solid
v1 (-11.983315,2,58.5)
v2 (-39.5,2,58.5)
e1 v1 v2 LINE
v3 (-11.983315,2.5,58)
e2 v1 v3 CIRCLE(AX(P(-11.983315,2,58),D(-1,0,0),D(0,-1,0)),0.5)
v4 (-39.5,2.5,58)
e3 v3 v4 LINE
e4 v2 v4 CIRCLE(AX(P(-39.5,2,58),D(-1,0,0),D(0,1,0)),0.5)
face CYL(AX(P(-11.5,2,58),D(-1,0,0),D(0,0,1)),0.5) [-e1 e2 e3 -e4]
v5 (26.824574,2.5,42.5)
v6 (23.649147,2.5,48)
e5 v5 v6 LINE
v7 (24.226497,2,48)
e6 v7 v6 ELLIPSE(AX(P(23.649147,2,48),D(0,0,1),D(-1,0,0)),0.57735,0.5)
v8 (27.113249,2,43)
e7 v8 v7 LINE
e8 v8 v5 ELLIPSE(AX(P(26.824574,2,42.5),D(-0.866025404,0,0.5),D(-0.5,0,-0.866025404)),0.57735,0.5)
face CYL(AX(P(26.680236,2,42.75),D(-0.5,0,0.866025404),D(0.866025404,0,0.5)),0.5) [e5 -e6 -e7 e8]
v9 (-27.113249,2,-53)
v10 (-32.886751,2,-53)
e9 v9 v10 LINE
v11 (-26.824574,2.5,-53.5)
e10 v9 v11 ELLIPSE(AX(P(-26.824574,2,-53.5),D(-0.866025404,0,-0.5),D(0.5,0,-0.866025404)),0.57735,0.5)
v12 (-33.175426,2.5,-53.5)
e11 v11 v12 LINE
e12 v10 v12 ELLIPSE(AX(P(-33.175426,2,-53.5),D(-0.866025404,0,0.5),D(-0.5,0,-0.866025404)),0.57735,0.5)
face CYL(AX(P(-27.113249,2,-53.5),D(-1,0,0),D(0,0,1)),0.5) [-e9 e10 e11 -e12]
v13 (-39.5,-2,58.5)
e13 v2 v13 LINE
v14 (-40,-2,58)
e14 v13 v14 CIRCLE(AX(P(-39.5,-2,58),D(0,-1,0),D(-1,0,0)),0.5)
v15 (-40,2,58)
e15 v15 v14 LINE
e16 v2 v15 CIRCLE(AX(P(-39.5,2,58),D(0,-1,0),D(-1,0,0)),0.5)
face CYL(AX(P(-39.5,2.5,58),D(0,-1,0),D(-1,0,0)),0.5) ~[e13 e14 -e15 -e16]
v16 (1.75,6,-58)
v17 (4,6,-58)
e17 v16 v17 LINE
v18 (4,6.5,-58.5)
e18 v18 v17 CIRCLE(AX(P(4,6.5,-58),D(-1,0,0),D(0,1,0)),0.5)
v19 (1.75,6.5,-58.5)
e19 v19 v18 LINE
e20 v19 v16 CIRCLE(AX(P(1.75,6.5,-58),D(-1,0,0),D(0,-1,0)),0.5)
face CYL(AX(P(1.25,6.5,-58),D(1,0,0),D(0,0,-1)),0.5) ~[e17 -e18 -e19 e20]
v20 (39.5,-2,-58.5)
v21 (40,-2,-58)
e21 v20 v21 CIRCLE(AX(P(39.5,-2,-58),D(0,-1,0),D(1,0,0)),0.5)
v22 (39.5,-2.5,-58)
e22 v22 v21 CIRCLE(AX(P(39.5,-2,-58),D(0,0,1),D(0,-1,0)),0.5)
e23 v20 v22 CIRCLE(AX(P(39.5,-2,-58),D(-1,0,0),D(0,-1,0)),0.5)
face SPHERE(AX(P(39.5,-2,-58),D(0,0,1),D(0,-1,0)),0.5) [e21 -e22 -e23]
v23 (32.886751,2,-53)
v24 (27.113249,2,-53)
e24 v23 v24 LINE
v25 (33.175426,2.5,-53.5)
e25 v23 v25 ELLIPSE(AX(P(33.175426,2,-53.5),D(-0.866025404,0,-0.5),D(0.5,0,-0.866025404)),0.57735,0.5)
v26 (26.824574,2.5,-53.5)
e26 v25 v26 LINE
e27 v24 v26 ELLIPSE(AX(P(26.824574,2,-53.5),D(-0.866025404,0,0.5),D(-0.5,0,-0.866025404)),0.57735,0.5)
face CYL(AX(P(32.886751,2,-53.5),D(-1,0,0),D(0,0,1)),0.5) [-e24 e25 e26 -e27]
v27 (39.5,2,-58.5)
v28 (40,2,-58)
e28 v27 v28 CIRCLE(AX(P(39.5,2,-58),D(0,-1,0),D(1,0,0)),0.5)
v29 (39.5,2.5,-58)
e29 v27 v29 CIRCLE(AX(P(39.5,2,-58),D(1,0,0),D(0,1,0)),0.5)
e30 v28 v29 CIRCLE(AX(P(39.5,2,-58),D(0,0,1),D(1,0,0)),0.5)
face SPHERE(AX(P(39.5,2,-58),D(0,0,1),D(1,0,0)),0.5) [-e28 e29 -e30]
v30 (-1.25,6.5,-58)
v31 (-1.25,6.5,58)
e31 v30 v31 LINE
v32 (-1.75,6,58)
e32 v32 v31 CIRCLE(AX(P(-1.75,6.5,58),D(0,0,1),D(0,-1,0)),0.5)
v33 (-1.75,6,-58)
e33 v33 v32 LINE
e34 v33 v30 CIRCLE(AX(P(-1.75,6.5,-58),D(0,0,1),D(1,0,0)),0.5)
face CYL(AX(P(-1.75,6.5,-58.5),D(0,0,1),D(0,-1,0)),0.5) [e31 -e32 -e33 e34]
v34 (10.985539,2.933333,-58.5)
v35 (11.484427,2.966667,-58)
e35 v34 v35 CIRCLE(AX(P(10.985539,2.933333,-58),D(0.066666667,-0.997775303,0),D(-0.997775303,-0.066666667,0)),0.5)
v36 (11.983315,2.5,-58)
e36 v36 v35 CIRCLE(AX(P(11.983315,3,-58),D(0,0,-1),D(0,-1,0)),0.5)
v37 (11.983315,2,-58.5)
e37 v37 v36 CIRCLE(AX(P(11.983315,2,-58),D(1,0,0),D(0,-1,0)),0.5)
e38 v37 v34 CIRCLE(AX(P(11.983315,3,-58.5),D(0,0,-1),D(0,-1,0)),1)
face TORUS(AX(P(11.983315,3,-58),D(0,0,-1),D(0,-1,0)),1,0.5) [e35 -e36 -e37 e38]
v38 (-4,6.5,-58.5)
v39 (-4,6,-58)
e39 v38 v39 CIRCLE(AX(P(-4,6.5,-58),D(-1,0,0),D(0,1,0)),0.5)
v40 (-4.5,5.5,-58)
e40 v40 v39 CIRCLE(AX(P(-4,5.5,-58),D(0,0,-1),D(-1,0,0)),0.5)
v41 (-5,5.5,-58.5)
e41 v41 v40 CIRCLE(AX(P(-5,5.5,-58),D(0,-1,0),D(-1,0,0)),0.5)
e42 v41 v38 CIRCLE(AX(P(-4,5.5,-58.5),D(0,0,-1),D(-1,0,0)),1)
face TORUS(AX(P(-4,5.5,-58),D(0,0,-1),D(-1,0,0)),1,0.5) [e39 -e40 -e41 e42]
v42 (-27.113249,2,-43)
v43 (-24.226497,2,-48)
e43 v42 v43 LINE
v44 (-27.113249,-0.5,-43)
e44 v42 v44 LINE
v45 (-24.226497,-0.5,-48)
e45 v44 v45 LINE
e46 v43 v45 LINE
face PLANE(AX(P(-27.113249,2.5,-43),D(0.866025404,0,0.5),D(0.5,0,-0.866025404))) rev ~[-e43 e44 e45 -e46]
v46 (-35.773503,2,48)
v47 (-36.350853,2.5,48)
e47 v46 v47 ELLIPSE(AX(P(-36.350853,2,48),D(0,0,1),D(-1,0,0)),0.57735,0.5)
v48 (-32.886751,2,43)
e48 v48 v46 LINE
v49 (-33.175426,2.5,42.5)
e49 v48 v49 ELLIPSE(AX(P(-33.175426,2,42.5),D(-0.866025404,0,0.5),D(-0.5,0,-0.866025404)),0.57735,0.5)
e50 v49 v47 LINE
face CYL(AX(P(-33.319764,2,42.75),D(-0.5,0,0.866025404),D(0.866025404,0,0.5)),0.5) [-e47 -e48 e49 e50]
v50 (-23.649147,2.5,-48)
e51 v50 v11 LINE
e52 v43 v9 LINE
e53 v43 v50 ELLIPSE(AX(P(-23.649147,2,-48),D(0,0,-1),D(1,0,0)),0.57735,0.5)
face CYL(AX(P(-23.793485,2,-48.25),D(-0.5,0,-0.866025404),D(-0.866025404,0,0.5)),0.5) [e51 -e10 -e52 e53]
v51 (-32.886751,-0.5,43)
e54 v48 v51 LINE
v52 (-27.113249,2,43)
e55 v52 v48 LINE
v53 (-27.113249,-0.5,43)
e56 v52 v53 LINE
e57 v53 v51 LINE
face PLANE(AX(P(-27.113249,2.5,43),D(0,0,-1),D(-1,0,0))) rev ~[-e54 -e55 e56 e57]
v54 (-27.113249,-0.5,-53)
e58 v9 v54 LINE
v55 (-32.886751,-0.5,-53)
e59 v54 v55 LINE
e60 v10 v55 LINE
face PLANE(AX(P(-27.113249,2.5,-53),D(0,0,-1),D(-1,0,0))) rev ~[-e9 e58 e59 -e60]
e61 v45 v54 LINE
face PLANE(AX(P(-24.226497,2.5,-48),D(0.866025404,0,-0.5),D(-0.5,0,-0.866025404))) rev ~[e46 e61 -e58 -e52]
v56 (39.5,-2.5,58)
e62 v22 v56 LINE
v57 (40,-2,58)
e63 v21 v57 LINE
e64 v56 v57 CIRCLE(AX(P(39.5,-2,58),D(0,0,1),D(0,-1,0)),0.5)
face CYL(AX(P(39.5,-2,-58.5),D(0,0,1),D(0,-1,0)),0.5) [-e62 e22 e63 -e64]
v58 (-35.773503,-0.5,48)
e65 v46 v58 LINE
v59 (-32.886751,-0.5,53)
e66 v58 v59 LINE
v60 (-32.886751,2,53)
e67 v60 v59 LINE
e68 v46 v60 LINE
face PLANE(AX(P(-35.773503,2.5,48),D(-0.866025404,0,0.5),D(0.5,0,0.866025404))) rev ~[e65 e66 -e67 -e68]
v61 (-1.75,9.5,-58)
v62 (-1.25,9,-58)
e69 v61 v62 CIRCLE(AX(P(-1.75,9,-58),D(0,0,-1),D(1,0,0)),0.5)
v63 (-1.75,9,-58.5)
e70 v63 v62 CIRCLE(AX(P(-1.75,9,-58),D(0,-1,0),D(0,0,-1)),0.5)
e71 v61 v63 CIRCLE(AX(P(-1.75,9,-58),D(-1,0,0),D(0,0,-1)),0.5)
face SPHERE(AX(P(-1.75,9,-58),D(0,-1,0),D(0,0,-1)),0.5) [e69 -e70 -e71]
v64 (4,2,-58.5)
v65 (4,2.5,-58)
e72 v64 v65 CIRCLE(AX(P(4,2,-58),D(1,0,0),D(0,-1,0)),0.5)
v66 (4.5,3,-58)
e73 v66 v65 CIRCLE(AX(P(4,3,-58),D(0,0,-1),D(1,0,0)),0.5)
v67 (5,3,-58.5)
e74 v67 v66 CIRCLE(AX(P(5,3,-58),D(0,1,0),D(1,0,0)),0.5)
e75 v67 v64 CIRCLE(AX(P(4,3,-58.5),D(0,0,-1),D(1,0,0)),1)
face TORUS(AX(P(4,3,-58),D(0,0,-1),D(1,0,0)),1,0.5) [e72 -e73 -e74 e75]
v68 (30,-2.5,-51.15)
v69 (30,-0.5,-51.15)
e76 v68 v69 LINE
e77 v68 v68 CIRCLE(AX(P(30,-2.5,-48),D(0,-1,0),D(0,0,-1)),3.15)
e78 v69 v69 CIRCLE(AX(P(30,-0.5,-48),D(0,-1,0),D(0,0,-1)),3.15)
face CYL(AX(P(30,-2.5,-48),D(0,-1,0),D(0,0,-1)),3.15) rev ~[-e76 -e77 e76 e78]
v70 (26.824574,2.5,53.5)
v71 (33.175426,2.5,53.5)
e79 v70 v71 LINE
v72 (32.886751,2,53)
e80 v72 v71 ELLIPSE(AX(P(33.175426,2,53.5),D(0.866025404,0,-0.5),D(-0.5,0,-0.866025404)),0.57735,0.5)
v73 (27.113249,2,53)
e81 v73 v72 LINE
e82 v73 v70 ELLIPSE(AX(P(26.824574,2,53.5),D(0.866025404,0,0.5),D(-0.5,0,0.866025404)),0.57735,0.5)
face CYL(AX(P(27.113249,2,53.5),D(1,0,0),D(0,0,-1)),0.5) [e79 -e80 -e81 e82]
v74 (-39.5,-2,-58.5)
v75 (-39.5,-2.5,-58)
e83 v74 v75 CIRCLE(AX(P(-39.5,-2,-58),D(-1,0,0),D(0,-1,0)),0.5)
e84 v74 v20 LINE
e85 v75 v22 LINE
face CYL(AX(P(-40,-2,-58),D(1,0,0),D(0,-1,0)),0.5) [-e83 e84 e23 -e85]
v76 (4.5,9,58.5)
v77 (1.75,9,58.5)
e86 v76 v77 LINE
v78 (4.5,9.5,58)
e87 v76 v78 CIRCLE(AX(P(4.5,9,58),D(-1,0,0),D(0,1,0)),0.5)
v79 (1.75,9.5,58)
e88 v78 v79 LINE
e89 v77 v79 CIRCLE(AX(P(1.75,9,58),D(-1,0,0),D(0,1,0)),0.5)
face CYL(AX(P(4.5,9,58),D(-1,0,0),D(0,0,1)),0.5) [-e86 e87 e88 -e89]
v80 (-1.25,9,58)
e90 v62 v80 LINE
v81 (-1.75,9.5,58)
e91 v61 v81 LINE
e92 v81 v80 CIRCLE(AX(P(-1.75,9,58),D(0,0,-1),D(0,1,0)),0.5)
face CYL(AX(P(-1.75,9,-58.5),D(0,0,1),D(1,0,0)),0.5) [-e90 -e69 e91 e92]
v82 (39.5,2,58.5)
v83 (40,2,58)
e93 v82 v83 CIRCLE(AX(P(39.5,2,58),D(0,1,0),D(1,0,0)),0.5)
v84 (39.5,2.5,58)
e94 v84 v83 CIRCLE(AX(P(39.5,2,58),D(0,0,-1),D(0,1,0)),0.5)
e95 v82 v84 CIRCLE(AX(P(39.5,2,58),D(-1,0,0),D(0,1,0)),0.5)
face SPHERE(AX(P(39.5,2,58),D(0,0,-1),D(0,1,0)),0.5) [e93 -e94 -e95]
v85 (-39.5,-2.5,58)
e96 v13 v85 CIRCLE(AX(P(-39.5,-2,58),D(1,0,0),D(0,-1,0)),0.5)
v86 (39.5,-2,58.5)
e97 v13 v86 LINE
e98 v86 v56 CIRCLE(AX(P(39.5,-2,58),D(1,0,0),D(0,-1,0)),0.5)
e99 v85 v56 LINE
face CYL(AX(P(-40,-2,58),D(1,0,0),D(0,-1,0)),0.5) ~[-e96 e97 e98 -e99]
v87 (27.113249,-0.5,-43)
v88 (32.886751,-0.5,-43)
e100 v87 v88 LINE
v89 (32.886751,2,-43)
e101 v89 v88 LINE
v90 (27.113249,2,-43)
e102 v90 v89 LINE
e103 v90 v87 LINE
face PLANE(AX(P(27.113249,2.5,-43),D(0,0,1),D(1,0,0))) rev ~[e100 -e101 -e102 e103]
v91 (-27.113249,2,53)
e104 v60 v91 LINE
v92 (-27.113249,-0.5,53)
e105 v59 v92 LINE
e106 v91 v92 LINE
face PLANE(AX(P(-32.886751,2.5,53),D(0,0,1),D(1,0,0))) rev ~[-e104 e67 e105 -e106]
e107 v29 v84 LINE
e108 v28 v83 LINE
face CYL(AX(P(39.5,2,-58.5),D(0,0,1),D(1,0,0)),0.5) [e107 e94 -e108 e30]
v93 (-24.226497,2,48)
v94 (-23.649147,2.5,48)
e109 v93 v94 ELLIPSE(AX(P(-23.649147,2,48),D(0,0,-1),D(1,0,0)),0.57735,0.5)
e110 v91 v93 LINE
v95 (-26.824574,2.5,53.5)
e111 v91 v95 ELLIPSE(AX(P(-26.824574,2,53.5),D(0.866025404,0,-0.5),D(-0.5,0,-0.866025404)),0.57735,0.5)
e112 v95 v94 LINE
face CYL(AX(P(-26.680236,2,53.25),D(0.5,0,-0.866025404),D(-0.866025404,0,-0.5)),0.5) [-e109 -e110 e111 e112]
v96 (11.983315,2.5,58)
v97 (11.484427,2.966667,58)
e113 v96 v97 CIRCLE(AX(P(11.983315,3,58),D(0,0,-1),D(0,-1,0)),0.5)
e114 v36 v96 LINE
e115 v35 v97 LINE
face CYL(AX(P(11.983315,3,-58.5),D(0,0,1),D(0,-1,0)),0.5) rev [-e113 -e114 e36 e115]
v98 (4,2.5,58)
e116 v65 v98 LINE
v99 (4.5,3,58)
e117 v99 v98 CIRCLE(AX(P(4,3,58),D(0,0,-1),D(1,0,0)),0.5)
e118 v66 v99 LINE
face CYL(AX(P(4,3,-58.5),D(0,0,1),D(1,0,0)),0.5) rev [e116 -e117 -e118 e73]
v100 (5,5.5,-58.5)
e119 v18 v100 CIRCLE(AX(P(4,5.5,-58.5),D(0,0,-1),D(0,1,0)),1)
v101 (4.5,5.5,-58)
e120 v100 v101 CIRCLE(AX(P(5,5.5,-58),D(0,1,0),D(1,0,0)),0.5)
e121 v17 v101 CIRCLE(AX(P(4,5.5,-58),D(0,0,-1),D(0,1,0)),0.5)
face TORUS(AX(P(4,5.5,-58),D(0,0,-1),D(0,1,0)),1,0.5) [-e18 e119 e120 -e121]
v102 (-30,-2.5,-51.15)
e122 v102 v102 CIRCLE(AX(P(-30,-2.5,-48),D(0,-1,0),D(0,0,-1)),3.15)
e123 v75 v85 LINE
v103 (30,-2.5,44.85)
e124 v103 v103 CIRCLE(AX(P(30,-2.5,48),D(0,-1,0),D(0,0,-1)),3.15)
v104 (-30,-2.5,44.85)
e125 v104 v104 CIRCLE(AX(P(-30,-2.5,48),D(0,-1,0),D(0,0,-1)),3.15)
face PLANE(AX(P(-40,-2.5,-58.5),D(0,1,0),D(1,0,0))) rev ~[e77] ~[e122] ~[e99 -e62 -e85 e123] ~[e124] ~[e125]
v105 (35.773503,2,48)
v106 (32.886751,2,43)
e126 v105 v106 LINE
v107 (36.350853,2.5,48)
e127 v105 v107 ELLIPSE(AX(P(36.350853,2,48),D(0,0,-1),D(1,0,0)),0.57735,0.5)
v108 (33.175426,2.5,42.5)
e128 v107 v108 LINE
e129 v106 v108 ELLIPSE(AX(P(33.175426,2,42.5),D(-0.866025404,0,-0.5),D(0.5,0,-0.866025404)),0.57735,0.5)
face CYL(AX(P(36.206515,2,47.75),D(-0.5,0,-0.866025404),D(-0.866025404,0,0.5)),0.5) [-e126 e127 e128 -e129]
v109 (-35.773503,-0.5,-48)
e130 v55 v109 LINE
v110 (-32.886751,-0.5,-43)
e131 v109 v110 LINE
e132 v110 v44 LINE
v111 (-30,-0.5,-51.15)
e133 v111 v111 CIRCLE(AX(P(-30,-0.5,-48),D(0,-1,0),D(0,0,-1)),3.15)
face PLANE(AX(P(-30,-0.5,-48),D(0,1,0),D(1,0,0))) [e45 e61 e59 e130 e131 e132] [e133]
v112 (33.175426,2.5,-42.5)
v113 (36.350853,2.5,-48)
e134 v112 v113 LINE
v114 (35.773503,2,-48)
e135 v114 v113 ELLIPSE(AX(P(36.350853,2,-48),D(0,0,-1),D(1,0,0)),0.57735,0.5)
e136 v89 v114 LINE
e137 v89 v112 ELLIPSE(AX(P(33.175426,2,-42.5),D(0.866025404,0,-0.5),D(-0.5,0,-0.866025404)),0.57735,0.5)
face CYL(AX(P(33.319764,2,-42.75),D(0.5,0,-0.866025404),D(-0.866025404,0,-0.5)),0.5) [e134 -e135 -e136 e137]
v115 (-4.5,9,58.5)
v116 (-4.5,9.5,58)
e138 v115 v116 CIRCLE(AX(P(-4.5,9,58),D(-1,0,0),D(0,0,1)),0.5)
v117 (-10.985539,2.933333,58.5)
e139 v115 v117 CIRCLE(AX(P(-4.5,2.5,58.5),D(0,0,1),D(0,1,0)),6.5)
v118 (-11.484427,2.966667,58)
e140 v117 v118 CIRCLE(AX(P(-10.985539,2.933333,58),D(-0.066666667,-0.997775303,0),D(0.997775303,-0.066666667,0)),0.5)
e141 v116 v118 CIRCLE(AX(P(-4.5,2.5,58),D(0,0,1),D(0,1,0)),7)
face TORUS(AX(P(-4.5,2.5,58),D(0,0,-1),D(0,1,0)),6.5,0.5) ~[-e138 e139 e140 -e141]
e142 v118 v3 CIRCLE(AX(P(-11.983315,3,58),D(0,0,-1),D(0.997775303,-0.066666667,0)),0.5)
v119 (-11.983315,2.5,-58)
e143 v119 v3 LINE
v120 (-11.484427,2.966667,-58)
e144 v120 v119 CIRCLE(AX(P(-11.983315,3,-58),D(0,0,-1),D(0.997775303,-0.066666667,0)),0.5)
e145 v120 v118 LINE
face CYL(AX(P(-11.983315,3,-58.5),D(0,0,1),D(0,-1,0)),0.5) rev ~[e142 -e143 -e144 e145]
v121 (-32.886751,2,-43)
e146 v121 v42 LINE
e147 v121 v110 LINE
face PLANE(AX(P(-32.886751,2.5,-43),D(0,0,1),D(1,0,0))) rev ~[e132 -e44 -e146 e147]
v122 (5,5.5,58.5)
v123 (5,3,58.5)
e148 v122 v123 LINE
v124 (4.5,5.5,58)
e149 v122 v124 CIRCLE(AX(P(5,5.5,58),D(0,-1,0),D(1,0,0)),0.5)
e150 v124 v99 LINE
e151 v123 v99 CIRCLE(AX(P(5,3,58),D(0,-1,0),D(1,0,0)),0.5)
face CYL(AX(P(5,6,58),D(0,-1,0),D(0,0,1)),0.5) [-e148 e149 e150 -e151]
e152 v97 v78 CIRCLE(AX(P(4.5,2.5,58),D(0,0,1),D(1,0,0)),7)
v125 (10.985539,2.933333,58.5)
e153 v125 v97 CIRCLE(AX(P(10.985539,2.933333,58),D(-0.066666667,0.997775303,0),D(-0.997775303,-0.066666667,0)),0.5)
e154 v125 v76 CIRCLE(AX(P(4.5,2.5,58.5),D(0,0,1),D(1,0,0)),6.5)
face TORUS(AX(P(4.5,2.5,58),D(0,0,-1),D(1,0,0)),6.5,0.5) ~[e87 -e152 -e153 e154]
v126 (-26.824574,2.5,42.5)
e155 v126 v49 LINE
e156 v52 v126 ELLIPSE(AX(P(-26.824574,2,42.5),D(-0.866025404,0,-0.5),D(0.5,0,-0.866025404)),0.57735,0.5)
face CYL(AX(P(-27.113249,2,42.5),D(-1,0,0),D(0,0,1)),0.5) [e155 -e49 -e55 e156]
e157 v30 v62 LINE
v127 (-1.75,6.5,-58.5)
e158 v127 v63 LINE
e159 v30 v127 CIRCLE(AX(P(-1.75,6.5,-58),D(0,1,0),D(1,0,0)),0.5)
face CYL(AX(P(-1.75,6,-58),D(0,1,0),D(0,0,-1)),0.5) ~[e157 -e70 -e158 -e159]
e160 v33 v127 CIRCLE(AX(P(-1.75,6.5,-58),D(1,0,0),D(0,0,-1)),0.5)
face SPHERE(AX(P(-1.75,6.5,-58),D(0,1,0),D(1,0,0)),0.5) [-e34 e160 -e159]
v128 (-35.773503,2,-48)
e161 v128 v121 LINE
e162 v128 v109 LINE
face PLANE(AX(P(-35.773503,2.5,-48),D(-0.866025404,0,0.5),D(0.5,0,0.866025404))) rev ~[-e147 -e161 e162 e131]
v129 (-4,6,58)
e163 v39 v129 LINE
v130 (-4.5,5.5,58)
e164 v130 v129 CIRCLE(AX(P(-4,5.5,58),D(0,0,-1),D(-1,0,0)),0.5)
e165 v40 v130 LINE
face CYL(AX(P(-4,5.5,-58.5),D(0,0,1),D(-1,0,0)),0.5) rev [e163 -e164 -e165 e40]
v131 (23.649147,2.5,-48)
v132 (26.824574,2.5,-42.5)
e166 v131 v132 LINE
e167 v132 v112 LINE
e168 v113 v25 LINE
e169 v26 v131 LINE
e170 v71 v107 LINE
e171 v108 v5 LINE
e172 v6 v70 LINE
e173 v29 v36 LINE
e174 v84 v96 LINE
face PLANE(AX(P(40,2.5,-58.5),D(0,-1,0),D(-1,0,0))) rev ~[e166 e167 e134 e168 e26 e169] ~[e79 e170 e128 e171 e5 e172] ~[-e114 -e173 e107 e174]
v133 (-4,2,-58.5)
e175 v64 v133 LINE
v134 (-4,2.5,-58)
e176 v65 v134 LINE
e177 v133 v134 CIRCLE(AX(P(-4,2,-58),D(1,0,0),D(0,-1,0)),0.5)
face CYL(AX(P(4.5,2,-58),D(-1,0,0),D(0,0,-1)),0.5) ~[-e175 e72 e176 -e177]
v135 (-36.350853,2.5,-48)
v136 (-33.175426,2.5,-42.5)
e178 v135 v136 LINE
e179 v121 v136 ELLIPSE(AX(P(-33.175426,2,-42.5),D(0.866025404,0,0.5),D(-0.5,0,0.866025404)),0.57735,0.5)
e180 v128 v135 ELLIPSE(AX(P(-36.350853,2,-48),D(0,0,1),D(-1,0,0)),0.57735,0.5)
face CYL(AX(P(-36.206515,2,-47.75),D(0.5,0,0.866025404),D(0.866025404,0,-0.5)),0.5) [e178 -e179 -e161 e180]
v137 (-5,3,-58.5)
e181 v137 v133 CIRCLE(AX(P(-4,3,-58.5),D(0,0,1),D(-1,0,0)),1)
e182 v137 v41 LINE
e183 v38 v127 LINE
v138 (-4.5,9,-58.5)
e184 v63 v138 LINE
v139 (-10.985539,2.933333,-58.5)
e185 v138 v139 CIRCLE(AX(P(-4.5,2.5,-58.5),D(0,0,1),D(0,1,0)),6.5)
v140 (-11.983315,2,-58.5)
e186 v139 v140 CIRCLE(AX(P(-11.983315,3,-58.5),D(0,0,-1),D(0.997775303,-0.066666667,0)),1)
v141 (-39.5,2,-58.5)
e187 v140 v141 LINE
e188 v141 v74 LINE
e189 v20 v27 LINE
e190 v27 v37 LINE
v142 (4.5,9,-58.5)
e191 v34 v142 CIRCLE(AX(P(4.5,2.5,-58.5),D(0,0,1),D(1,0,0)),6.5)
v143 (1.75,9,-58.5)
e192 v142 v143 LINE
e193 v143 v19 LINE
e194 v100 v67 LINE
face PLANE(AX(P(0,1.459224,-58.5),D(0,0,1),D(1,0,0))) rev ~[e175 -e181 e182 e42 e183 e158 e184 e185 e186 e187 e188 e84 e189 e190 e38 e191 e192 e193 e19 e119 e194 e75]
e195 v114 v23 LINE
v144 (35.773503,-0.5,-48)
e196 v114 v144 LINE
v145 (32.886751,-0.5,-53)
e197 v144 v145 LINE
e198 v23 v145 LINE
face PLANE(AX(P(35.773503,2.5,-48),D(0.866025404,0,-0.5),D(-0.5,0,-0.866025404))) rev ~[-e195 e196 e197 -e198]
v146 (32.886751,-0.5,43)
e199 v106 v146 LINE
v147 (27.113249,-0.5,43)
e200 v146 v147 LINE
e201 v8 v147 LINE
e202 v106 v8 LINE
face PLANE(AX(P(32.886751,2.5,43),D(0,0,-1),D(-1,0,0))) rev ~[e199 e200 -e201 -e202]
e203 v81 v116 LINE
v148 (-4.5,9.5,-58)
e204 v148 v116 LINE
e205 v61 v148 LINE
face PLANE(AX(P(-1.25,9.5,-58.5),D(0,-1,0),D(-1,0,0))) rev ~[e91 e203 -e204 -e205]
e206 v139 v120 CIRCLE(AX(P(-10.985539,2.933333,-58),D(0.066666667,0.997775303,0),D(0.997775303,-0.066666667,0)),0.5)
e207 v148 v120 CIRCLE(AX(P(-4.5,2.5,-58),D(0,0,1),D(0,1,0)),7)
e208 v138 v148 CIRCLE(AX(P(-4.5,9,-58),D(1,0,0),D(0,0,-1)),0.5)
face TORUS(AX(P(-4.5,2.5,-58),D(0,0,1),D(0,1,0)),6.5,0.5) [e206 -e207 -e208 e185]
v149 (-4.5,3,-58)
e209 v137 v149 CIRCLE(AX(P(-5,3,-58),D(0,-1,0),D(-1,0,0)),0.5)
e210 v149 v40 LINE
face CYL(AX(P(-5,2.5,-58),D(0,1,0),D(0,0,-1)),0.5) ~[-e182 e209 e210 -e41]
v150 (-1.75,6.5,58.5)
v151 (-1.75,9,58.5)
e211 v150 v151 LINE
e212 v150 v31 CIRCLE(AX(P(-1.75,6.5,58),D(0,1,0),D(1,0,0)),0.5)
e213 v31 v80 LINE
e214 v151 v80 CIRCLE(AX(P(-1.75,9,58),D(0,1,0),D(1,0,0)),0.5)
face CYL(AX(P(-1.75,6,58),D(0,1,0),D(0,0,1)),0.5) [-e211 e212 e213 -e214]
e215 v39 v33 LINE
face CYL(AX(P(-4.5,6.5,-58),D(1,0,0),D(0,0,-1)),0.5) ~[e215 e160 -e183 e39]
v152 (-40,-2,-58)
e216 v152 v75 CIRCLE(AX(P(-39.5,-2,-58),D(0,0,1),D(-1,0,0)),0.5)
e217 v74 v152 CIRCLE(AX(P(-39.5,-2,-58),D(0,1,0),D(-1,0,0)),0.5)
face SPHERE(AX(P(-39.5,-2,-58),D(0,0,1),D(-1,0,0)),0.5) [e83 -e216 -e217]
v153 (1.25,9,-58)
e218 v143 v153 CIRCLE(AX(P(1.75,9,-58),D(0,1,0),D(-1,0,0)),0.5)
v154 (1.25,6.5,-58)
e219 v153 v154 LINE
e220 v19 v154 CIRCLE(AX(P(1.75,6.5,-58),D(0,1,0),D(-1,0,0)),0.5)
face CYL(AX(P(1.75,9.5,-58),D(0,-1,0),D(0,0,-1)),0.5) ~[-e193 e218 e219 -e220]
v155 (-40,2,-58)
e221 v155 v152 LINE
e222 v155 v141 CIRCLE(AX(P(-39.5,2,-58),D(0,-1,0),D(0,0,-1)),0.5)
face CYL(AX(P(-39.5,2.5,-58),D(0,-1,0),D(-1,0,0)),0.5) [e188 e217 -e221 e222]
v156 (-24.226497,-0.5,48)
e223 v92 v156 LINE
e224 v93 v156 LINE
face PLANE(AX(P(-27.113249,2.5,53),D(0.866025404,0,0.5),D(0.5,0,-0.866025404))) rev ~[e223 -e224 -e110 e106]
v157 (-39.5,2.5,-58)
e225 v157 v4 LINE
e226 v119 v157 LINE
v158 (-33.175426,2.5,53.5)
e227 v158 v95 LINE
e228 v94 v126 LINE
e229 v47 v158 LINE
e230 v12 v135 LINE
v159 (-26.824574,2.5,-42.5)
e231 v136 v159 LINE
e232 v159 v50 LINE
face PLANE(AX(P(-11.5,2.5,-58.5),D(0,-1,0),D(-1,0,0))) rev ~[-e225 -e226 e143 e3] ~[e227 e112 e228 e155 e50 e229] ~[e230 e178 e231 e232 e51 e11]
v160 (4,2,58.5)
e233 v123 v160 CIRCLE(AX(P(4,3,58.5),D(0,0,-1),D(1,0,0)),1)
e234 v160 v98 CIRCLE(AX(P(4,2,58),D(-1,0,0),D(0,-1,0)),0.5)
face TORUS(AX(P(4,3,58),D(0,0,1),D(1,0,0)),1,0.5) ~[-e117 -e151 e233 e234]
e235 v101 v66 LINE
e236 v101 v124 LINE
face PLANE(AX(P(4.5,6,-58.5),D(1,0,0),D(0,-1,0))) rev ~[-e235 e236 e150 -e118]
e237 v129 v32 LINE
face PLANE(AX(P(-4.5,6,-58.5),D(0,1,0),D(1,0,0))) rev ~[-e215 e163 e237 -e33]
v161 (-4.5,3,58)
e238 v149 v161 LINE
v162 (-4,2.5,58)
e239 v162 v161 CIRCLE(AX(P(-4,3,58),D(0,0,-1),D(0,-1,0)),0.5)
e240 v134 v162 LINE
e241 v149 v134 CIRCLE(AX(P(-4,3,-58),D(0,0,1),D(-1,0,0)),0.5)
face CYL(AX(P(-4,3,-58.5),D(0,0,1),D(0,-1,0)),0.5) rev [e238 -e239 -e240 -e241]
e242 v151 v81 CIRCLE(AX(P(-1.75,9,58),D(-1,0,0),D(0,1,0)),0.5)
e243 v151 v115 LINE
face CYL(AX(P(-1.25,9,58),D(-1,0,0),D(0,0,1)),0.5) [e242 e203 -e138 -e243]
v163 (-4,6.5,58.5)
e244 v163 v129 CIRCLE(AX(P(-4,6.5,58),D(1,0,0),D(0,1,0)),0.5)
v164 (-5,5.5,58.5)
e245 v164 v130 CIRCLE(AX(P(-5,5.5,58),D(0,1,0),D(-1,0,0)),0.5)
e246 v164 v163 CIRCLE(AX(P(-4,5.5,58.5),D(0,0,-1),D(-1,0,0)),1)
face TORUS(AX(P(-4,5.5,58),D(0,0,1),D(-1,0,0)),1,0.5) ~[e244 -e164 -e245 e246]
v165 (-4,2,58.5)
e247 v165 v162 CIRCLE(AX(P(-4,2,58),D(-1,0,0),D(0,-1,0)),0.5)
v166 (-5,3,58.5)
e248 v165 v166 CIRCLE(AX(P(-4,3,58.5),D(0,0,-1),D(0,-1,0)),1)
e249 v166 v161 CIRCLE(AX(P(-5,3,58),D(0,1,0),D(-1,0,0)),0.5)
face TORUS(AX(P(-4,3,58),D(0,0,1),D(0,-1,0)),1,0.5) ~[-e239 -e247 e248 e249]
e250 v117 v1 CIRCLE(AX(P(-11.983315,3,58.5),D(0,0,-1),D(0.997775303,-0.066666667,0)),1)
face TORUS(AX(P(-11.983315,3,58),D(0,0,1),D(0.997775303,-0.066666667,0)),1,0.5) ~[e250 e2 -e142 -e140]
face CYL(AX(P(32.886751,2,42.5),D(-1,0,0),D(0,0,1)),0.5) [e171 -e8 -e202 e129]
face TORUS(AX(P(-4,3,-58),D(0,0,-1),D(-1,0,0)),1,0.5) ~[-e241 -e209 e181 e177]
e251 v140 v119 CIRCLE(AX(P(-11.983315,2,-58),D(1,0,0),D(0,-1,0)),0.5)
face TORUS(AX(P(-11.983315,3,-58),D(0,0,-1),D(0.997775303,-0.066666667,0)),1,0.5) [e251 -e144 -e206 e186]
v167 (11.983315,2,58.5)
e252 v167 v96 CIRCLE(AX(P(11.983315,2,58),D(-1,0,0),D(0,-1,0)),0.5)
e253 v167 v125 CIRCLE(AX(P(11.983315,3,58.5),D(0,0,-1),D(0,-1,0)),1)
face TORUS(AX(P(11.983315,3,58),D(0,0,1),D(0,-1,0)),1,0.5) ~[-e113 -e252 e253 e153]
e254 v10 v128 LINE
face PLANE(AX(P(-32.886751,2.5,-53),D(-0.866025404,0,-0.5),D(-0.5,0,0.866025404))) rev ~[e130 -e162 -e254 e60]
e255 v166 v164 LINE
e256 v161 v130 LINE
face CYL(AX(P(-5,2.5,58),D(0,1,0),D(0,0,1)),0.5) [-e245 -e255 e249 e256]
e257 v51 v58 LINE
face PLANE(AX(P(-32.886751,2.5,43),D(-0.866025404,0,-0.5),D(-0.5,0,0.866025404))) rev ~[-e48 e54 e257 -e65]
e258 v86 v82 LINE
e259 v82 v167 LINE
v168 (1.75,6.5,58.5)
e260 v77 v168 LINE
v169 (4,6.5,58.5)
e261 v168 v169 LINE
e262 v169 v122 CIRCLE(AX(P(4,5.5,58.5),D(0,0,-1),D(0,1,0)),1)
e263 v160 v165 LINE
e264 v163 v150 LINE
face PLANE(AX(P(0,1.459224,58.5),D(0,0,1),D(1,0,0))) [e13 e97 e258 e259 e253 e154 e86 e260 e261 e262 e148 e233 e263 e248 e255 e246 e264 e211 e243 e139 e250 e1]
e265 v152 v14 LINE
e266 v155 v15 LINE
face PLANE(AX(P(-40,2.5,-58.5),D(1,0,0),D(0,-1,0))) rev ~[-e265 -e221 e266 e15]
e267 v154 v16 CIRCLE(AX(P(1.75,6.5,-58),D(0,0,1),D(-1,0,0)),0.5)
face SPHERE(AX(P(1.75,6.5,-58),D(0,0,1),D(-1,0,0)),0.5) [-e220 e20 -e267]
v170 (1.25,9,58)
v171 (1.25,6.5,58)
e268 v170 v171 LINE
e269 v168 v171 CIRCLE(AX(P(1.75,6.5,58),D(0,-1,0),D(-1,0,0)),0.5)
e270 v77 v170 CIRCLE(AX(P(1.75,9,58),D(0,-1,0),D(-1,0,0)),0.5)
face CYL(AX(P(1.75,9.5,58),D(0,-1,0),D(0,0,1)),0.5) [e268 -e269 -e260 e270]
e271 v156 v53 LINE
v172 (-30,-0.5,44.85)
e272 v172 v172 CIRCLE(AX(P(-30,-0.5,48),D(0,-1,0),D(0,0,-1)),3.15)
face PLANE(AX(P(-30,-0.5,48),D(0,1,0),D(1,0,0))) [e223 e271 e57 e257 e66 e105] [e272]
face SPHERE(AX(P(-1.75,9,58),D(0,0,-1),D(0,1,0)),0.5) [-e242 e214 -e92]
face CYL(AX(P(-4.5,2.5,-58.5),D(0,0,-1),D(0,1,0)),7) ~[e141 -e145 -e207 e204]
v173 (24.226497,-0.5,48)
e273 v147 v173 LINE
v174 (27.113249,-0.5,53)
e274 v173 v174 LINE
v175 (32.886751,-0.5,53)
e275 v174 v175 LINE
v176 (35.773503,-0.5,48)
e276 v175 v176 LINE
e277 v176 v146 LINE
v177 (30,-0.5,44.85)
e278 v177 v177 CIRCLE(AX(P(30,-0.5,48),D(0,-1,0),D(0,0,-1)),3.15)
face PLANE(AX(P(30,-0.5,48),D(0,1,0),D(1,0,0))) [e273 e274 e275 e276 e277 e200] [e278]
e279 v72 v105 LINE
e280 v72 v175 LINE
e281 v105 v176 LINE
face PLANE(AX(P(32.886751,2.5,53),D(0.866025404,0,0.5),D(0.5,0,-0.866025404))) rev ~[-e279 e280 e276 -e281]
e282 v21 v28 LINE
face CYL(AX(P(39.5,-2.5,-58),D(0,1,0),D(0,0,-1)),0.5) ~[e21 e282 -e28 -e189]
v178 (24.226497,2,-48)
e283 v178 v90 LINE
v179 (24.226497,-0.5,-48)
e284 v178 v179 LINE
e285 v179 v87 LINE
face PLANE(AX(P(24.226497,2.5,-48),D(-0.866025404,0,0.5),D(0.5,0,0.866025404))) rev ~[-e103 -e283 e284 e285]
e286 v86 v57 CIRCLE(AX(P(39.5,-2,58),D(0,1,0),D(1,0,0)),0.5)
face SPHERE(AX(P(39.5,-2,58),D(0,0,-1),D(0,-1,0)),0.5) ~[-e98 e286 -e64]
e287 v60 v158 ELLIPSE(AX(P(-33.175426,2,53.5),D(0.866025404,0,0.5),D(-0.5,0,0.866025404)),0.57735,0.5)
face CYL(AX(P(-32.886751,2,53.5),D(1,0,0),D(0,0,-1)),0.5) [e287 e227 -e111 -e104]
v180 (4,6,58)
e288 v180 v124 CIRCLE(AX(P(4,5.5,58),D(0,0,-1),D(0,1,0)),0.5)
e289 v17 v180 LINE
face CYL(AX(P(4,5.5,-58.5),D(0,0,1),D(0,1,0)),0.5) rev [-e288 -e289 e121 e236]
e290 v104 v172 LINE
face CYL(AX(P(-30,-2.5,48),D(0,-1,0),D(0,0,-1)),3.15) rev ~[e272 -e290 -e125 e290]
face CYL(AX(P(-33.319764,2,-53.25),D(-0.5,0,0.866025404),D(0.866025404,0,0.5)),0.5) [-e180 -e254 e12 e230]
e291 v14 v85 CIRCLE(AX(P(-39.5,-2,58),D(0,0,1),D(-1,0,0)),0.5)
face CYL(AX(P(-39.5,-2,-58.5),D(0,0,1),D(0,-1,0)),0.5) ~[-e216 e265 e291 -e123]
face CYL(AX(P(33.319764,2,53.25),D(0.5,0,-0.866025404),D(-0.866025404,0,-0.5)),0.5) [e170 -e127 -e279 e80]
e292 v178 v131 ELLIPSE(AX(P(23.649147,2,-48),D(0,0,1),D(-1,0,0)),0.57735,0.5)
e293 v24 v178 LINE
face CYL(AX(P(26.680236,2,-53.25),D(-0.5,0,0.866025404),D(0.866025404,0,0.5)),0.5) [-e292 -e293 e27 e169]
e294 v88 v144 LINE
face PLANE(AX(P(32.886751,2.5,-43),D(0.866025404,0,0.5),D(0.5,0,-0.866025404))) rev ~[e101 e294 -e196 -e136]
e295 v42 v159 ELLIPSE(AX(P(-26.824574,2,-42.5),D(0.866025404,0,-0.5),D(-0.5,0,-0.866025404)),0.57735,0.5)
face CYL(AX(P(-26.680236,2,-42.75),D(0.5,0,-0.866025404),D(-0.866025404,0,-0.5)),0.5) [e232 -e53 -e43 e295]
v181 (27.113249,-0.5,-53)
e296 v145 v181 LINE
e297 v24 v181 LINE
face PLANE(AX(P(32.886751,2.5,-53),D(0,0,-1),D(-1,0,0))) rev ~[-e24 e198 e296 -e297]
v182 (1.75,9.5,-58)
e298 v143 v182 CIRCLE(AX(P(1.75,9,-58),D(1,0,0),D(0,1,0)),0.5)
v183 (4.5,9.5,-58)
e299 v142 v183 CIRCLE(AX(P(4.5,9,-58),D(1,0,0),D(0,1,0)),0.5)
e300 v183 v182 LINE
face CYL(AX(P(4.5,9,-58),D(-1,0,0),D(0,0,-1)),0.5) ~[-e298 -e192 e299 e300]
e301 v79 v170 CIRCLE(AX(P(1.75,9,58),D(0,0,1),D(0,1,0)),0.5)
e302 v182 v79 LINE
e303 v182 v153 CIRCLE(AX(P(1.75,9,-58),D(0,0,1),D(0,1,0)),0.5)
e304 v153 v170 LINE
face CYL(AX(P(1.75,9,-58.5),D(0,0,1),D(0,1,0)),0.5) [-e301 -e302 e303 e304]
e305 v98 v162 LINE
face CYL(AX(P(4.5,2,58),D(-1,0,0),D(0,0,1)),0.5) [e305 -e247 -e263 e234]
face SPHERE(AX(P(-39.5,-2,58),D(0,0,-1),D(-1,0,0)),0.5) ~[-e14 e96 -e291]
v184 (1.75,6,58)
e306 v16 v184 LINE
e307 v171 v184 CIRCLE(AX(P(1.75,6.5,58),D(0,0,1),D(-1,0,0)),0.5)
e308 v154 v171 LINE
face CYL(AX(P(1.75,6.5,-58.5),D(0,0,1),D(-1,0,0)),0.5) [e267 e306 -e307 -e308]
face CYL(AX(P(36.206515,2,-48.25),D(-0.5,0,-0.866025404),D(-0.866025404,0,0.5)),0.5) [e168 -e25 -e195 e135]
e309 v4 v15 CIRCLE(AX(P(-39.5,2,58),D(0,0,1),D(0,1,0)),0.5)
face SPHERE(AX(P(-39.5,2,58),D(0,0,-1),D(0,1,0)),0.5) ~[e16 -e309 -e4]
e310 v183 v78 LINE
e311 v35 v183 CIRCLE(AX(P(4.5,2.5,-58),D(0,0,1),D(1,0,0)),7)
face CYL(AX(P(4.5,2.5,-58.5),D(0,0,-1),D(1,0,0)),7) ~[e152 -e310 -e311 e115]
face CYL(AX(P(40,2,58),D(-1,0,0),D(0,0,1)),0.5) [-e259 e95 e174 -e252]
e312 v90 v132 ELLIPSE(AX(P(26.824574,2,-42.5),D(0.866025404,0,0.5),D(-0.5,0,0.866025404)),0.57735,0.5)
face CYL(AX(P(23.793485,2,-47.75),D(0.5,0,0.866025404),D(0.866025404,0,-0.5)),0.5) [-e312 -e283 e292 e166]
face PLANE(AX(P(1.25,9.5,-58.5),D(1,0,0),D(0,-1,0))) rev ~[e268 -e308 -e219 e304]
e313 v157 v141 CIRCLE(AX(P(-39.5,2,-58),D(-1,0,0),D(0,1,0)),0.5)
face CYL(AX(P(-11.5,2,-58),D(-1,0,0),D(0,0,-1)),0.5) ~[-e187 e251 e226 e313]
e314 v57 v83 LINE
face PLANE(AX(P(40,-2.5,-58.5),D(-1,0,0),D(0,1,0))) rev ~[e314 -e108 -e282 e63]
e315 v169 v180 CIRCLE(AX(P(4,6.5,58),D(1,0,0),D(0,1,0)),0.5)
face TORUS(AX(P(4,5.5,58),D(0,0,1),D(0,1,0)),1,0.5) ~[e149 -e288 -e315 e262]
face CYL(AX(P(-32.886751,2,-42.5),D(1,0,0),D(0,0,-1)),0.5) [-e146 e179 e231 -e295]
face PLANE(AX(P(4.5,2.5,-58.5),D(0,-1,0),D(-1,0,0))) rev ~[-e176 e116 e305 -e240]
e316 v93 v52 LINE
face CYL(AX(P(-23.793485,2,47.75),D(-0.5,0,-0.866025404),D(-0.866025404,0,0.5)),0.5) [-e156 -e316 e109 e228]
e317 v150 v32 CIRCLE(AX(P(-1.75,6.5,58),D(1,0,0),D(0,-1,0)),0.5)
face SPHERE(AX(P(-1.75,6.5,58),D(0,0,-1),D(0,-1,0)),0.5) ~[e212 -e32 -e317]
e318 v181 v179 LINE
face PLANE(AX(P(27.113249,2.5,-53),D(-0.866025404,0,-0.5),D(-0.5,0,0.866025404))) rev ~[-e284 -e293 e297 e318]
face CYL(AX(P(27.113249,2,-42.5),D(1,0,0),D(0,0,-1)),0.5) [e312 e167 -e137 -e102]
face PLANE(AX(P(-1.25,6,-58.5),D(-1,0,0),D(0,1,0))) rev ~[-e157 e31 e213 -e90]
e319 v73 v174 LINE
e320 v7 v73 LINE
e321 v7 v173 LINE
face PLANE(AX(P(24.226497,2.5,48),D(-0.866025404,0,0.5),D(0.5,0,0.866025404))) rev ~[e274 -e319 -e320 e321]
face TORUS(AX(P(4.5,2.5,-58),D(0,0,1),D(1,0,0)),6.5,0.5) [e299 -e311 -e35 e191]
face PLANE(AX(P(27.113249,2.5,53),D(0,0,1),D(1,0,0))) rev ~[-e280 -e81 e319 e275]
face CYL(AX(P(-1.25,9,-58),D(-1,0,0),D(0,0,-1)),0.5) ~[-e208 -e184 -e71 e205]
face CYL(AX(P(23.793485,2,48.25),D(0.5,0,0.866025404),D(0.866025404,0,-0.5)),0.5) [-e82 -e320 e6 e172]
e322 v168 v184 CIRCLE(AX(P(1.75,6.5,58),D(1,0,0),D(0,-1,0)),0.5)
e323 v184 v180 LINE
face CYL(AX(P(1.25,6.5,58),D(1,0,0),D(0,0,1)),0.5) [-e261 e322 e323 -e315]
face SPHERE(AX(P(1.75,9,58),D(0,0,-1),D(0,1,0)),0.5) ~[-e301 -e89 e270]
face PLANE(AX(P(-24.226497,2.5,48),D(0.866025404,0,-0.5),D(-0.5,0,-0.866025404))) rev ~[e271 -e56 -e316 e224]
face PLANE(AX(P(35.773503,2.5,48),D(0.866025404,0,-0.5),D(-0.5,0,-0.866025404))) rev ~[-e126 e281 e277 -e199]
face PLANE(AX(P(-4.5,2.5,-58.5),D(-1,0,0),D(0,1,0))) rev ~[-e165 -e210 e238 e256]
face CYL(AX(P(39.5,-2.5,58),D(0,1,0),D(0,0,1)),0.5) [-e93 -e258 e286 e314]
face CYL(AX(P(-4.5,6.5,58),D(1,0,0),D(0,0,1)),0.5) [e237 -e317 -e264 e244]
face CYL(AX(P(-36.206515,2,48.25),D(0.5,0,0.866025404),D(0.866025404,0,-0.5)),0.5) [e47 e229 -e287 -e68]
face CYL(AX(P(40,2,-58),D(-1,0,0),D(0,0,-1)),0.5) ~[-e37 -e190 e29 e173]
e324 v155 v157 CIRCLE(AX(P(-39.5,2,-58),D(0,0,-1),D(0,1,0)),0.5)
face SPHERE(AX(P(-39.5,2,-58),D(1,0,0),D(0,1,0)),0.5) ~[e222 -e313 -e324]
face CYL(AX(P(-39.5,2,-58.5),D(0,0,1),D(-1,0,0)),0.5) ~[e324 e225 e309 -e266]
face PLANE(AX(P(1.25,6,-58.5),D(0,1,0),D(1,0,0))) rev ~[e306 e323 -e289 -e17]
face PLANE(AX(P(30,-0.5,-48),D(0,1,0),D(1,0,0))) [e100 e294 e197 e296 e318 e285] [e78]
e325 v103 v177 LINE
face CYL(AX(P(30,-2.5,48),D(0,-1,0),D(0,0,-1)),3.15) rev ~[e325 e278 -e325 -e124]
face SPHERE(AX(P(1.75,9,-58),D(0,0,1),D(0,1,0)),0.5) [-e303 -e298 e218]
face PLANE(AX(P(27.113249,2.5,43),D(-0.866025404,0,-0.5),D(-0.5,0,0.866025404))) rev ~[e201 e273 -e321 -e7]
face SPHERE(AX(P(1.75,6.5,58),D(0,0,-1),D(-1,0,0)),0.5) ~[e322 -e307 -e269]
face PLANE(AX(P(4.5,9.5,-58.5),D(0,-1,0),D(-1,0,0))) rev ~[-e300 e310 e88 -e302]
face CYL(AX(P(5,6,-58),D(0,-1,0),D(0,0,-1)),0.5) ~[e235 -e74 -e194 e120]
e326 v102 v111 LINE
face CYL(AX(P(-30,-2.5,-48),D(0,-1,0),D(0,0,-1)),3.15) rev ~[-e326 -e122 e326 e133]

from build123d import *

# Parameters (mm, degrees)
BOSS_EXTRUDE1_DEPTH      = 58.5
BOSS_EXTRUDE1_DEPTH_BACK = 58.5
SKETCH2_R                = 3.15
CUT_EXTRUDE1_DEPTH       = 58.5
FILLET1_R                = 0.5
CUT_EXTRUDE2_DEPTH       = 3
LPATTERN1_COUNT          = 2
LPATTERN1_PITCH          = 60
FILLET2_R                = 0.5


with BuildPart() as part:
    # Sketch1 → Boss-Extrude1 (new, two sides: drawn at the far end of the back side and taken through both)
    with BuildSketch(Plane.XY.offset(-BOSS_EXTRUDE1_DEPTH_BACK)):
        with BuildLine():
            Line((-40, -2.5), (40, -2.5))
            Line((40, -2.5), (40, 2.5))
            Line((40, 2.5), (11.5, 2.5))
            ThreePointArc((11.5, 2.5), (9.449747468, 7.449747468), (4.5, 9.5))
            Line((4.5, 9.5), (1.25, 9.5))
            Line((1.25, 9.5), (1.25, 6))
            Line((1.25, 6), (4.5, 6))
            Line((4.5, 6), (4.5, 2.5))
            Line((4.5, 2.5), (-4.5, 2.5))
            Line((-4.5, 2.5), (-4.5, 6))
            Line((-4.5, 6), (-1.25, 6))
            Line((-1.25, 6), (-1.25, 9.5))
            Line((-1.25, 9.5), (-4.5, 9.5))
            ThreePointArc((-4.5, 9.5), (-9.449747468, 7.449747468), (-11.5, 2.5))
            Line((-11.5, 2.5), (-40, 2.5))
            Line((-40, 2.5), (-40, -2.5))
        make_face()
    extrude(amount=BOSS_EXTRUDE1_DEPTH + BOSS_EXTRUDE1_DEPTH_BACK)

    # Sketch2 → Cut-Extrude1 (cut)
    with BuildSketch(Plane.XZ.offset(2.5)):
        with Locations((-30, 48)):
            Circle(SKETCH2_R)
        with Locations((30, 48)):
            Circle(SKETCH2_R)
        with Locations((30, -48)):
            Circle(SKETCH2_R)
        with Locations((-30, -48)):
            Circle(SKETCH2_R)
    extrude(amount=-CUT_EXTRUDE1_DEPTH, mode=Mode.SUBTRACT)

    # Fillet1
    fillet1_edges = [part.edges().sort_by_distance(p)[0] for p in [
        (40, -2.5, 0),
        (-40, -2.5, 0),
        (-4.5, 6, 0),
        (-1.25, 6, 0),
        (-1.25, 9.5, 0),
        (1.25, 9.5, 0),
        (1.25, 6, 0),
        (4.5, 6, 0),
        (4.5, 2.5, 0),
        (-4.5, 2.5, 0),
        (-2.875, 6, -58.5),
        (-1.25, 7.75, -58.5),
        (-2.875, 9.5, -58.5),
        (-9.449747468, 7.449747468, -58.5),
        (-40, 0, -58.5),
        (0, -2.5, -58.5),
        (40, 0, -58.5),
        (9.449747468, 7.449747468, -58.5),
        (2.875, 9.5, -58.5),
        (1.25, 7.75, -58.5),
        (2.875, 6, -58.5),
        (4.5, 4.25, -58.5),
        (0, 2.5, -58.5),
        (-4.5, 4.25, -58.5),
        (0, 2.5, 58.5),
        (4.5, 4.25, 58.5),
        (2.875, 6, 58.5),
        (1.25, 7.75, 58.5),
        (2.875, 9.5, 58.5),
        (9.449747468, 7.449747468, 58.5),
        (40, 0, 58.5),
        (0, -2.5, 58.5),
        (-40, 0, 58.5),
        (-9.449747468, 7.449747468, 58.5),
        (-2.875, 9.5, 58.5),
        (-1.25, 7.75, 58.5),
        (-2.875, 6, 58.5),
        (-4.5, 4.25, 58.5),
        (-25.75, 2.5, -58.5),
        (-11.5, 2.5, 0),
        (-25.75, 2.5, 58.5),
        (-40, 2.5, 0),
        (-33.15, 2.5, -48),
        (-33.15, 2.5, 48),
        (25.75, 2.5, -58.5),
        (40, 2.5, 0),
        (25.75, 2.5, 58.5),
        (11.5, 2.5, 0),
        (26.85, 2.5, 48),
        (26.85, 2.5, -48),
    ]]
    fillet(fillet1_edges, radius=FILLET1_R)

    # Sketch3 → Cut-Extrude2 (cut)
    with BuildSketch(Plane(origin=(0, 2.5, 0), x_dir=(1, 0, 0), z_dir=(0, 1, 0))):
        Polygon((-24.226497308, 48), (-27.113248654, 53), (-32.886751346, 53), (-35.773502692, 48), (-32.886751346, 43), (-27.113248654, 43), align=None)
        Polygon((-24.226497308, -48), (-27.113248654, -43), (-32.886751346, -43), (-35.773502692, -48), (-32.886751346, -53), (-27.113248654, -53), align=None)
    cut_extrude2 = extrude(amount=-CUT_EXTRUDE2_DEPTH, mode=Mode.SUBTRACT)

    # LPattern1: Cut-Extrude2 ×2
    with Locations(*[(i * LPATTERN1_PITCH, 0, 0) for i in range(1, LPATTERN1_COUNT)]):
        add(cut_extrude2, mode=Mode.SUBTRACT)

    # Fillet2
    fillet2_edges = [part.edges().sort_by_distance(p)[0] for p in [
        (30, 2.5, 43),
        (25.669872981, 2.5, 45.5),
        (25.669872981, 2.5, 50.5),
        (30, 2.5, 53),
        (34.330127019, 2.5, 50.5),
        (34.330127019, 2.5, 45.5),
        (30, 2.5, -53),
        (25.669872981, 2.5, -50.5),
        (25.669872981, 2.5, -45.5),
        (30, 2.5, -43),
        (34.330127019, 2.5, -45.5),
        (34.330127019, 2.5, -50.5),
        (-30, 2.5, 43),
        (-34.330127019, 2.5, 45.5),
        (-34.330127019, 2.5, 50.5),
        (-30, 2.5, 53),
        (-25.669872981, 2.5, 50.5),
        (-25.669872981, 2.5, 45.5),
        (-30, 2.5, -53),
        (-34.330127019, 2.5, -50.5),
        (-34.330127019, 2.5, -45.5),
        (-30, 2.5, -43),
        (-25.669872981, 2.5, -45.5),
        (-25.669872981, 2.5, -50.5),
    ]]
    fillet(fillet2_edges, radius=FILLET2_R)


solid = part.part
